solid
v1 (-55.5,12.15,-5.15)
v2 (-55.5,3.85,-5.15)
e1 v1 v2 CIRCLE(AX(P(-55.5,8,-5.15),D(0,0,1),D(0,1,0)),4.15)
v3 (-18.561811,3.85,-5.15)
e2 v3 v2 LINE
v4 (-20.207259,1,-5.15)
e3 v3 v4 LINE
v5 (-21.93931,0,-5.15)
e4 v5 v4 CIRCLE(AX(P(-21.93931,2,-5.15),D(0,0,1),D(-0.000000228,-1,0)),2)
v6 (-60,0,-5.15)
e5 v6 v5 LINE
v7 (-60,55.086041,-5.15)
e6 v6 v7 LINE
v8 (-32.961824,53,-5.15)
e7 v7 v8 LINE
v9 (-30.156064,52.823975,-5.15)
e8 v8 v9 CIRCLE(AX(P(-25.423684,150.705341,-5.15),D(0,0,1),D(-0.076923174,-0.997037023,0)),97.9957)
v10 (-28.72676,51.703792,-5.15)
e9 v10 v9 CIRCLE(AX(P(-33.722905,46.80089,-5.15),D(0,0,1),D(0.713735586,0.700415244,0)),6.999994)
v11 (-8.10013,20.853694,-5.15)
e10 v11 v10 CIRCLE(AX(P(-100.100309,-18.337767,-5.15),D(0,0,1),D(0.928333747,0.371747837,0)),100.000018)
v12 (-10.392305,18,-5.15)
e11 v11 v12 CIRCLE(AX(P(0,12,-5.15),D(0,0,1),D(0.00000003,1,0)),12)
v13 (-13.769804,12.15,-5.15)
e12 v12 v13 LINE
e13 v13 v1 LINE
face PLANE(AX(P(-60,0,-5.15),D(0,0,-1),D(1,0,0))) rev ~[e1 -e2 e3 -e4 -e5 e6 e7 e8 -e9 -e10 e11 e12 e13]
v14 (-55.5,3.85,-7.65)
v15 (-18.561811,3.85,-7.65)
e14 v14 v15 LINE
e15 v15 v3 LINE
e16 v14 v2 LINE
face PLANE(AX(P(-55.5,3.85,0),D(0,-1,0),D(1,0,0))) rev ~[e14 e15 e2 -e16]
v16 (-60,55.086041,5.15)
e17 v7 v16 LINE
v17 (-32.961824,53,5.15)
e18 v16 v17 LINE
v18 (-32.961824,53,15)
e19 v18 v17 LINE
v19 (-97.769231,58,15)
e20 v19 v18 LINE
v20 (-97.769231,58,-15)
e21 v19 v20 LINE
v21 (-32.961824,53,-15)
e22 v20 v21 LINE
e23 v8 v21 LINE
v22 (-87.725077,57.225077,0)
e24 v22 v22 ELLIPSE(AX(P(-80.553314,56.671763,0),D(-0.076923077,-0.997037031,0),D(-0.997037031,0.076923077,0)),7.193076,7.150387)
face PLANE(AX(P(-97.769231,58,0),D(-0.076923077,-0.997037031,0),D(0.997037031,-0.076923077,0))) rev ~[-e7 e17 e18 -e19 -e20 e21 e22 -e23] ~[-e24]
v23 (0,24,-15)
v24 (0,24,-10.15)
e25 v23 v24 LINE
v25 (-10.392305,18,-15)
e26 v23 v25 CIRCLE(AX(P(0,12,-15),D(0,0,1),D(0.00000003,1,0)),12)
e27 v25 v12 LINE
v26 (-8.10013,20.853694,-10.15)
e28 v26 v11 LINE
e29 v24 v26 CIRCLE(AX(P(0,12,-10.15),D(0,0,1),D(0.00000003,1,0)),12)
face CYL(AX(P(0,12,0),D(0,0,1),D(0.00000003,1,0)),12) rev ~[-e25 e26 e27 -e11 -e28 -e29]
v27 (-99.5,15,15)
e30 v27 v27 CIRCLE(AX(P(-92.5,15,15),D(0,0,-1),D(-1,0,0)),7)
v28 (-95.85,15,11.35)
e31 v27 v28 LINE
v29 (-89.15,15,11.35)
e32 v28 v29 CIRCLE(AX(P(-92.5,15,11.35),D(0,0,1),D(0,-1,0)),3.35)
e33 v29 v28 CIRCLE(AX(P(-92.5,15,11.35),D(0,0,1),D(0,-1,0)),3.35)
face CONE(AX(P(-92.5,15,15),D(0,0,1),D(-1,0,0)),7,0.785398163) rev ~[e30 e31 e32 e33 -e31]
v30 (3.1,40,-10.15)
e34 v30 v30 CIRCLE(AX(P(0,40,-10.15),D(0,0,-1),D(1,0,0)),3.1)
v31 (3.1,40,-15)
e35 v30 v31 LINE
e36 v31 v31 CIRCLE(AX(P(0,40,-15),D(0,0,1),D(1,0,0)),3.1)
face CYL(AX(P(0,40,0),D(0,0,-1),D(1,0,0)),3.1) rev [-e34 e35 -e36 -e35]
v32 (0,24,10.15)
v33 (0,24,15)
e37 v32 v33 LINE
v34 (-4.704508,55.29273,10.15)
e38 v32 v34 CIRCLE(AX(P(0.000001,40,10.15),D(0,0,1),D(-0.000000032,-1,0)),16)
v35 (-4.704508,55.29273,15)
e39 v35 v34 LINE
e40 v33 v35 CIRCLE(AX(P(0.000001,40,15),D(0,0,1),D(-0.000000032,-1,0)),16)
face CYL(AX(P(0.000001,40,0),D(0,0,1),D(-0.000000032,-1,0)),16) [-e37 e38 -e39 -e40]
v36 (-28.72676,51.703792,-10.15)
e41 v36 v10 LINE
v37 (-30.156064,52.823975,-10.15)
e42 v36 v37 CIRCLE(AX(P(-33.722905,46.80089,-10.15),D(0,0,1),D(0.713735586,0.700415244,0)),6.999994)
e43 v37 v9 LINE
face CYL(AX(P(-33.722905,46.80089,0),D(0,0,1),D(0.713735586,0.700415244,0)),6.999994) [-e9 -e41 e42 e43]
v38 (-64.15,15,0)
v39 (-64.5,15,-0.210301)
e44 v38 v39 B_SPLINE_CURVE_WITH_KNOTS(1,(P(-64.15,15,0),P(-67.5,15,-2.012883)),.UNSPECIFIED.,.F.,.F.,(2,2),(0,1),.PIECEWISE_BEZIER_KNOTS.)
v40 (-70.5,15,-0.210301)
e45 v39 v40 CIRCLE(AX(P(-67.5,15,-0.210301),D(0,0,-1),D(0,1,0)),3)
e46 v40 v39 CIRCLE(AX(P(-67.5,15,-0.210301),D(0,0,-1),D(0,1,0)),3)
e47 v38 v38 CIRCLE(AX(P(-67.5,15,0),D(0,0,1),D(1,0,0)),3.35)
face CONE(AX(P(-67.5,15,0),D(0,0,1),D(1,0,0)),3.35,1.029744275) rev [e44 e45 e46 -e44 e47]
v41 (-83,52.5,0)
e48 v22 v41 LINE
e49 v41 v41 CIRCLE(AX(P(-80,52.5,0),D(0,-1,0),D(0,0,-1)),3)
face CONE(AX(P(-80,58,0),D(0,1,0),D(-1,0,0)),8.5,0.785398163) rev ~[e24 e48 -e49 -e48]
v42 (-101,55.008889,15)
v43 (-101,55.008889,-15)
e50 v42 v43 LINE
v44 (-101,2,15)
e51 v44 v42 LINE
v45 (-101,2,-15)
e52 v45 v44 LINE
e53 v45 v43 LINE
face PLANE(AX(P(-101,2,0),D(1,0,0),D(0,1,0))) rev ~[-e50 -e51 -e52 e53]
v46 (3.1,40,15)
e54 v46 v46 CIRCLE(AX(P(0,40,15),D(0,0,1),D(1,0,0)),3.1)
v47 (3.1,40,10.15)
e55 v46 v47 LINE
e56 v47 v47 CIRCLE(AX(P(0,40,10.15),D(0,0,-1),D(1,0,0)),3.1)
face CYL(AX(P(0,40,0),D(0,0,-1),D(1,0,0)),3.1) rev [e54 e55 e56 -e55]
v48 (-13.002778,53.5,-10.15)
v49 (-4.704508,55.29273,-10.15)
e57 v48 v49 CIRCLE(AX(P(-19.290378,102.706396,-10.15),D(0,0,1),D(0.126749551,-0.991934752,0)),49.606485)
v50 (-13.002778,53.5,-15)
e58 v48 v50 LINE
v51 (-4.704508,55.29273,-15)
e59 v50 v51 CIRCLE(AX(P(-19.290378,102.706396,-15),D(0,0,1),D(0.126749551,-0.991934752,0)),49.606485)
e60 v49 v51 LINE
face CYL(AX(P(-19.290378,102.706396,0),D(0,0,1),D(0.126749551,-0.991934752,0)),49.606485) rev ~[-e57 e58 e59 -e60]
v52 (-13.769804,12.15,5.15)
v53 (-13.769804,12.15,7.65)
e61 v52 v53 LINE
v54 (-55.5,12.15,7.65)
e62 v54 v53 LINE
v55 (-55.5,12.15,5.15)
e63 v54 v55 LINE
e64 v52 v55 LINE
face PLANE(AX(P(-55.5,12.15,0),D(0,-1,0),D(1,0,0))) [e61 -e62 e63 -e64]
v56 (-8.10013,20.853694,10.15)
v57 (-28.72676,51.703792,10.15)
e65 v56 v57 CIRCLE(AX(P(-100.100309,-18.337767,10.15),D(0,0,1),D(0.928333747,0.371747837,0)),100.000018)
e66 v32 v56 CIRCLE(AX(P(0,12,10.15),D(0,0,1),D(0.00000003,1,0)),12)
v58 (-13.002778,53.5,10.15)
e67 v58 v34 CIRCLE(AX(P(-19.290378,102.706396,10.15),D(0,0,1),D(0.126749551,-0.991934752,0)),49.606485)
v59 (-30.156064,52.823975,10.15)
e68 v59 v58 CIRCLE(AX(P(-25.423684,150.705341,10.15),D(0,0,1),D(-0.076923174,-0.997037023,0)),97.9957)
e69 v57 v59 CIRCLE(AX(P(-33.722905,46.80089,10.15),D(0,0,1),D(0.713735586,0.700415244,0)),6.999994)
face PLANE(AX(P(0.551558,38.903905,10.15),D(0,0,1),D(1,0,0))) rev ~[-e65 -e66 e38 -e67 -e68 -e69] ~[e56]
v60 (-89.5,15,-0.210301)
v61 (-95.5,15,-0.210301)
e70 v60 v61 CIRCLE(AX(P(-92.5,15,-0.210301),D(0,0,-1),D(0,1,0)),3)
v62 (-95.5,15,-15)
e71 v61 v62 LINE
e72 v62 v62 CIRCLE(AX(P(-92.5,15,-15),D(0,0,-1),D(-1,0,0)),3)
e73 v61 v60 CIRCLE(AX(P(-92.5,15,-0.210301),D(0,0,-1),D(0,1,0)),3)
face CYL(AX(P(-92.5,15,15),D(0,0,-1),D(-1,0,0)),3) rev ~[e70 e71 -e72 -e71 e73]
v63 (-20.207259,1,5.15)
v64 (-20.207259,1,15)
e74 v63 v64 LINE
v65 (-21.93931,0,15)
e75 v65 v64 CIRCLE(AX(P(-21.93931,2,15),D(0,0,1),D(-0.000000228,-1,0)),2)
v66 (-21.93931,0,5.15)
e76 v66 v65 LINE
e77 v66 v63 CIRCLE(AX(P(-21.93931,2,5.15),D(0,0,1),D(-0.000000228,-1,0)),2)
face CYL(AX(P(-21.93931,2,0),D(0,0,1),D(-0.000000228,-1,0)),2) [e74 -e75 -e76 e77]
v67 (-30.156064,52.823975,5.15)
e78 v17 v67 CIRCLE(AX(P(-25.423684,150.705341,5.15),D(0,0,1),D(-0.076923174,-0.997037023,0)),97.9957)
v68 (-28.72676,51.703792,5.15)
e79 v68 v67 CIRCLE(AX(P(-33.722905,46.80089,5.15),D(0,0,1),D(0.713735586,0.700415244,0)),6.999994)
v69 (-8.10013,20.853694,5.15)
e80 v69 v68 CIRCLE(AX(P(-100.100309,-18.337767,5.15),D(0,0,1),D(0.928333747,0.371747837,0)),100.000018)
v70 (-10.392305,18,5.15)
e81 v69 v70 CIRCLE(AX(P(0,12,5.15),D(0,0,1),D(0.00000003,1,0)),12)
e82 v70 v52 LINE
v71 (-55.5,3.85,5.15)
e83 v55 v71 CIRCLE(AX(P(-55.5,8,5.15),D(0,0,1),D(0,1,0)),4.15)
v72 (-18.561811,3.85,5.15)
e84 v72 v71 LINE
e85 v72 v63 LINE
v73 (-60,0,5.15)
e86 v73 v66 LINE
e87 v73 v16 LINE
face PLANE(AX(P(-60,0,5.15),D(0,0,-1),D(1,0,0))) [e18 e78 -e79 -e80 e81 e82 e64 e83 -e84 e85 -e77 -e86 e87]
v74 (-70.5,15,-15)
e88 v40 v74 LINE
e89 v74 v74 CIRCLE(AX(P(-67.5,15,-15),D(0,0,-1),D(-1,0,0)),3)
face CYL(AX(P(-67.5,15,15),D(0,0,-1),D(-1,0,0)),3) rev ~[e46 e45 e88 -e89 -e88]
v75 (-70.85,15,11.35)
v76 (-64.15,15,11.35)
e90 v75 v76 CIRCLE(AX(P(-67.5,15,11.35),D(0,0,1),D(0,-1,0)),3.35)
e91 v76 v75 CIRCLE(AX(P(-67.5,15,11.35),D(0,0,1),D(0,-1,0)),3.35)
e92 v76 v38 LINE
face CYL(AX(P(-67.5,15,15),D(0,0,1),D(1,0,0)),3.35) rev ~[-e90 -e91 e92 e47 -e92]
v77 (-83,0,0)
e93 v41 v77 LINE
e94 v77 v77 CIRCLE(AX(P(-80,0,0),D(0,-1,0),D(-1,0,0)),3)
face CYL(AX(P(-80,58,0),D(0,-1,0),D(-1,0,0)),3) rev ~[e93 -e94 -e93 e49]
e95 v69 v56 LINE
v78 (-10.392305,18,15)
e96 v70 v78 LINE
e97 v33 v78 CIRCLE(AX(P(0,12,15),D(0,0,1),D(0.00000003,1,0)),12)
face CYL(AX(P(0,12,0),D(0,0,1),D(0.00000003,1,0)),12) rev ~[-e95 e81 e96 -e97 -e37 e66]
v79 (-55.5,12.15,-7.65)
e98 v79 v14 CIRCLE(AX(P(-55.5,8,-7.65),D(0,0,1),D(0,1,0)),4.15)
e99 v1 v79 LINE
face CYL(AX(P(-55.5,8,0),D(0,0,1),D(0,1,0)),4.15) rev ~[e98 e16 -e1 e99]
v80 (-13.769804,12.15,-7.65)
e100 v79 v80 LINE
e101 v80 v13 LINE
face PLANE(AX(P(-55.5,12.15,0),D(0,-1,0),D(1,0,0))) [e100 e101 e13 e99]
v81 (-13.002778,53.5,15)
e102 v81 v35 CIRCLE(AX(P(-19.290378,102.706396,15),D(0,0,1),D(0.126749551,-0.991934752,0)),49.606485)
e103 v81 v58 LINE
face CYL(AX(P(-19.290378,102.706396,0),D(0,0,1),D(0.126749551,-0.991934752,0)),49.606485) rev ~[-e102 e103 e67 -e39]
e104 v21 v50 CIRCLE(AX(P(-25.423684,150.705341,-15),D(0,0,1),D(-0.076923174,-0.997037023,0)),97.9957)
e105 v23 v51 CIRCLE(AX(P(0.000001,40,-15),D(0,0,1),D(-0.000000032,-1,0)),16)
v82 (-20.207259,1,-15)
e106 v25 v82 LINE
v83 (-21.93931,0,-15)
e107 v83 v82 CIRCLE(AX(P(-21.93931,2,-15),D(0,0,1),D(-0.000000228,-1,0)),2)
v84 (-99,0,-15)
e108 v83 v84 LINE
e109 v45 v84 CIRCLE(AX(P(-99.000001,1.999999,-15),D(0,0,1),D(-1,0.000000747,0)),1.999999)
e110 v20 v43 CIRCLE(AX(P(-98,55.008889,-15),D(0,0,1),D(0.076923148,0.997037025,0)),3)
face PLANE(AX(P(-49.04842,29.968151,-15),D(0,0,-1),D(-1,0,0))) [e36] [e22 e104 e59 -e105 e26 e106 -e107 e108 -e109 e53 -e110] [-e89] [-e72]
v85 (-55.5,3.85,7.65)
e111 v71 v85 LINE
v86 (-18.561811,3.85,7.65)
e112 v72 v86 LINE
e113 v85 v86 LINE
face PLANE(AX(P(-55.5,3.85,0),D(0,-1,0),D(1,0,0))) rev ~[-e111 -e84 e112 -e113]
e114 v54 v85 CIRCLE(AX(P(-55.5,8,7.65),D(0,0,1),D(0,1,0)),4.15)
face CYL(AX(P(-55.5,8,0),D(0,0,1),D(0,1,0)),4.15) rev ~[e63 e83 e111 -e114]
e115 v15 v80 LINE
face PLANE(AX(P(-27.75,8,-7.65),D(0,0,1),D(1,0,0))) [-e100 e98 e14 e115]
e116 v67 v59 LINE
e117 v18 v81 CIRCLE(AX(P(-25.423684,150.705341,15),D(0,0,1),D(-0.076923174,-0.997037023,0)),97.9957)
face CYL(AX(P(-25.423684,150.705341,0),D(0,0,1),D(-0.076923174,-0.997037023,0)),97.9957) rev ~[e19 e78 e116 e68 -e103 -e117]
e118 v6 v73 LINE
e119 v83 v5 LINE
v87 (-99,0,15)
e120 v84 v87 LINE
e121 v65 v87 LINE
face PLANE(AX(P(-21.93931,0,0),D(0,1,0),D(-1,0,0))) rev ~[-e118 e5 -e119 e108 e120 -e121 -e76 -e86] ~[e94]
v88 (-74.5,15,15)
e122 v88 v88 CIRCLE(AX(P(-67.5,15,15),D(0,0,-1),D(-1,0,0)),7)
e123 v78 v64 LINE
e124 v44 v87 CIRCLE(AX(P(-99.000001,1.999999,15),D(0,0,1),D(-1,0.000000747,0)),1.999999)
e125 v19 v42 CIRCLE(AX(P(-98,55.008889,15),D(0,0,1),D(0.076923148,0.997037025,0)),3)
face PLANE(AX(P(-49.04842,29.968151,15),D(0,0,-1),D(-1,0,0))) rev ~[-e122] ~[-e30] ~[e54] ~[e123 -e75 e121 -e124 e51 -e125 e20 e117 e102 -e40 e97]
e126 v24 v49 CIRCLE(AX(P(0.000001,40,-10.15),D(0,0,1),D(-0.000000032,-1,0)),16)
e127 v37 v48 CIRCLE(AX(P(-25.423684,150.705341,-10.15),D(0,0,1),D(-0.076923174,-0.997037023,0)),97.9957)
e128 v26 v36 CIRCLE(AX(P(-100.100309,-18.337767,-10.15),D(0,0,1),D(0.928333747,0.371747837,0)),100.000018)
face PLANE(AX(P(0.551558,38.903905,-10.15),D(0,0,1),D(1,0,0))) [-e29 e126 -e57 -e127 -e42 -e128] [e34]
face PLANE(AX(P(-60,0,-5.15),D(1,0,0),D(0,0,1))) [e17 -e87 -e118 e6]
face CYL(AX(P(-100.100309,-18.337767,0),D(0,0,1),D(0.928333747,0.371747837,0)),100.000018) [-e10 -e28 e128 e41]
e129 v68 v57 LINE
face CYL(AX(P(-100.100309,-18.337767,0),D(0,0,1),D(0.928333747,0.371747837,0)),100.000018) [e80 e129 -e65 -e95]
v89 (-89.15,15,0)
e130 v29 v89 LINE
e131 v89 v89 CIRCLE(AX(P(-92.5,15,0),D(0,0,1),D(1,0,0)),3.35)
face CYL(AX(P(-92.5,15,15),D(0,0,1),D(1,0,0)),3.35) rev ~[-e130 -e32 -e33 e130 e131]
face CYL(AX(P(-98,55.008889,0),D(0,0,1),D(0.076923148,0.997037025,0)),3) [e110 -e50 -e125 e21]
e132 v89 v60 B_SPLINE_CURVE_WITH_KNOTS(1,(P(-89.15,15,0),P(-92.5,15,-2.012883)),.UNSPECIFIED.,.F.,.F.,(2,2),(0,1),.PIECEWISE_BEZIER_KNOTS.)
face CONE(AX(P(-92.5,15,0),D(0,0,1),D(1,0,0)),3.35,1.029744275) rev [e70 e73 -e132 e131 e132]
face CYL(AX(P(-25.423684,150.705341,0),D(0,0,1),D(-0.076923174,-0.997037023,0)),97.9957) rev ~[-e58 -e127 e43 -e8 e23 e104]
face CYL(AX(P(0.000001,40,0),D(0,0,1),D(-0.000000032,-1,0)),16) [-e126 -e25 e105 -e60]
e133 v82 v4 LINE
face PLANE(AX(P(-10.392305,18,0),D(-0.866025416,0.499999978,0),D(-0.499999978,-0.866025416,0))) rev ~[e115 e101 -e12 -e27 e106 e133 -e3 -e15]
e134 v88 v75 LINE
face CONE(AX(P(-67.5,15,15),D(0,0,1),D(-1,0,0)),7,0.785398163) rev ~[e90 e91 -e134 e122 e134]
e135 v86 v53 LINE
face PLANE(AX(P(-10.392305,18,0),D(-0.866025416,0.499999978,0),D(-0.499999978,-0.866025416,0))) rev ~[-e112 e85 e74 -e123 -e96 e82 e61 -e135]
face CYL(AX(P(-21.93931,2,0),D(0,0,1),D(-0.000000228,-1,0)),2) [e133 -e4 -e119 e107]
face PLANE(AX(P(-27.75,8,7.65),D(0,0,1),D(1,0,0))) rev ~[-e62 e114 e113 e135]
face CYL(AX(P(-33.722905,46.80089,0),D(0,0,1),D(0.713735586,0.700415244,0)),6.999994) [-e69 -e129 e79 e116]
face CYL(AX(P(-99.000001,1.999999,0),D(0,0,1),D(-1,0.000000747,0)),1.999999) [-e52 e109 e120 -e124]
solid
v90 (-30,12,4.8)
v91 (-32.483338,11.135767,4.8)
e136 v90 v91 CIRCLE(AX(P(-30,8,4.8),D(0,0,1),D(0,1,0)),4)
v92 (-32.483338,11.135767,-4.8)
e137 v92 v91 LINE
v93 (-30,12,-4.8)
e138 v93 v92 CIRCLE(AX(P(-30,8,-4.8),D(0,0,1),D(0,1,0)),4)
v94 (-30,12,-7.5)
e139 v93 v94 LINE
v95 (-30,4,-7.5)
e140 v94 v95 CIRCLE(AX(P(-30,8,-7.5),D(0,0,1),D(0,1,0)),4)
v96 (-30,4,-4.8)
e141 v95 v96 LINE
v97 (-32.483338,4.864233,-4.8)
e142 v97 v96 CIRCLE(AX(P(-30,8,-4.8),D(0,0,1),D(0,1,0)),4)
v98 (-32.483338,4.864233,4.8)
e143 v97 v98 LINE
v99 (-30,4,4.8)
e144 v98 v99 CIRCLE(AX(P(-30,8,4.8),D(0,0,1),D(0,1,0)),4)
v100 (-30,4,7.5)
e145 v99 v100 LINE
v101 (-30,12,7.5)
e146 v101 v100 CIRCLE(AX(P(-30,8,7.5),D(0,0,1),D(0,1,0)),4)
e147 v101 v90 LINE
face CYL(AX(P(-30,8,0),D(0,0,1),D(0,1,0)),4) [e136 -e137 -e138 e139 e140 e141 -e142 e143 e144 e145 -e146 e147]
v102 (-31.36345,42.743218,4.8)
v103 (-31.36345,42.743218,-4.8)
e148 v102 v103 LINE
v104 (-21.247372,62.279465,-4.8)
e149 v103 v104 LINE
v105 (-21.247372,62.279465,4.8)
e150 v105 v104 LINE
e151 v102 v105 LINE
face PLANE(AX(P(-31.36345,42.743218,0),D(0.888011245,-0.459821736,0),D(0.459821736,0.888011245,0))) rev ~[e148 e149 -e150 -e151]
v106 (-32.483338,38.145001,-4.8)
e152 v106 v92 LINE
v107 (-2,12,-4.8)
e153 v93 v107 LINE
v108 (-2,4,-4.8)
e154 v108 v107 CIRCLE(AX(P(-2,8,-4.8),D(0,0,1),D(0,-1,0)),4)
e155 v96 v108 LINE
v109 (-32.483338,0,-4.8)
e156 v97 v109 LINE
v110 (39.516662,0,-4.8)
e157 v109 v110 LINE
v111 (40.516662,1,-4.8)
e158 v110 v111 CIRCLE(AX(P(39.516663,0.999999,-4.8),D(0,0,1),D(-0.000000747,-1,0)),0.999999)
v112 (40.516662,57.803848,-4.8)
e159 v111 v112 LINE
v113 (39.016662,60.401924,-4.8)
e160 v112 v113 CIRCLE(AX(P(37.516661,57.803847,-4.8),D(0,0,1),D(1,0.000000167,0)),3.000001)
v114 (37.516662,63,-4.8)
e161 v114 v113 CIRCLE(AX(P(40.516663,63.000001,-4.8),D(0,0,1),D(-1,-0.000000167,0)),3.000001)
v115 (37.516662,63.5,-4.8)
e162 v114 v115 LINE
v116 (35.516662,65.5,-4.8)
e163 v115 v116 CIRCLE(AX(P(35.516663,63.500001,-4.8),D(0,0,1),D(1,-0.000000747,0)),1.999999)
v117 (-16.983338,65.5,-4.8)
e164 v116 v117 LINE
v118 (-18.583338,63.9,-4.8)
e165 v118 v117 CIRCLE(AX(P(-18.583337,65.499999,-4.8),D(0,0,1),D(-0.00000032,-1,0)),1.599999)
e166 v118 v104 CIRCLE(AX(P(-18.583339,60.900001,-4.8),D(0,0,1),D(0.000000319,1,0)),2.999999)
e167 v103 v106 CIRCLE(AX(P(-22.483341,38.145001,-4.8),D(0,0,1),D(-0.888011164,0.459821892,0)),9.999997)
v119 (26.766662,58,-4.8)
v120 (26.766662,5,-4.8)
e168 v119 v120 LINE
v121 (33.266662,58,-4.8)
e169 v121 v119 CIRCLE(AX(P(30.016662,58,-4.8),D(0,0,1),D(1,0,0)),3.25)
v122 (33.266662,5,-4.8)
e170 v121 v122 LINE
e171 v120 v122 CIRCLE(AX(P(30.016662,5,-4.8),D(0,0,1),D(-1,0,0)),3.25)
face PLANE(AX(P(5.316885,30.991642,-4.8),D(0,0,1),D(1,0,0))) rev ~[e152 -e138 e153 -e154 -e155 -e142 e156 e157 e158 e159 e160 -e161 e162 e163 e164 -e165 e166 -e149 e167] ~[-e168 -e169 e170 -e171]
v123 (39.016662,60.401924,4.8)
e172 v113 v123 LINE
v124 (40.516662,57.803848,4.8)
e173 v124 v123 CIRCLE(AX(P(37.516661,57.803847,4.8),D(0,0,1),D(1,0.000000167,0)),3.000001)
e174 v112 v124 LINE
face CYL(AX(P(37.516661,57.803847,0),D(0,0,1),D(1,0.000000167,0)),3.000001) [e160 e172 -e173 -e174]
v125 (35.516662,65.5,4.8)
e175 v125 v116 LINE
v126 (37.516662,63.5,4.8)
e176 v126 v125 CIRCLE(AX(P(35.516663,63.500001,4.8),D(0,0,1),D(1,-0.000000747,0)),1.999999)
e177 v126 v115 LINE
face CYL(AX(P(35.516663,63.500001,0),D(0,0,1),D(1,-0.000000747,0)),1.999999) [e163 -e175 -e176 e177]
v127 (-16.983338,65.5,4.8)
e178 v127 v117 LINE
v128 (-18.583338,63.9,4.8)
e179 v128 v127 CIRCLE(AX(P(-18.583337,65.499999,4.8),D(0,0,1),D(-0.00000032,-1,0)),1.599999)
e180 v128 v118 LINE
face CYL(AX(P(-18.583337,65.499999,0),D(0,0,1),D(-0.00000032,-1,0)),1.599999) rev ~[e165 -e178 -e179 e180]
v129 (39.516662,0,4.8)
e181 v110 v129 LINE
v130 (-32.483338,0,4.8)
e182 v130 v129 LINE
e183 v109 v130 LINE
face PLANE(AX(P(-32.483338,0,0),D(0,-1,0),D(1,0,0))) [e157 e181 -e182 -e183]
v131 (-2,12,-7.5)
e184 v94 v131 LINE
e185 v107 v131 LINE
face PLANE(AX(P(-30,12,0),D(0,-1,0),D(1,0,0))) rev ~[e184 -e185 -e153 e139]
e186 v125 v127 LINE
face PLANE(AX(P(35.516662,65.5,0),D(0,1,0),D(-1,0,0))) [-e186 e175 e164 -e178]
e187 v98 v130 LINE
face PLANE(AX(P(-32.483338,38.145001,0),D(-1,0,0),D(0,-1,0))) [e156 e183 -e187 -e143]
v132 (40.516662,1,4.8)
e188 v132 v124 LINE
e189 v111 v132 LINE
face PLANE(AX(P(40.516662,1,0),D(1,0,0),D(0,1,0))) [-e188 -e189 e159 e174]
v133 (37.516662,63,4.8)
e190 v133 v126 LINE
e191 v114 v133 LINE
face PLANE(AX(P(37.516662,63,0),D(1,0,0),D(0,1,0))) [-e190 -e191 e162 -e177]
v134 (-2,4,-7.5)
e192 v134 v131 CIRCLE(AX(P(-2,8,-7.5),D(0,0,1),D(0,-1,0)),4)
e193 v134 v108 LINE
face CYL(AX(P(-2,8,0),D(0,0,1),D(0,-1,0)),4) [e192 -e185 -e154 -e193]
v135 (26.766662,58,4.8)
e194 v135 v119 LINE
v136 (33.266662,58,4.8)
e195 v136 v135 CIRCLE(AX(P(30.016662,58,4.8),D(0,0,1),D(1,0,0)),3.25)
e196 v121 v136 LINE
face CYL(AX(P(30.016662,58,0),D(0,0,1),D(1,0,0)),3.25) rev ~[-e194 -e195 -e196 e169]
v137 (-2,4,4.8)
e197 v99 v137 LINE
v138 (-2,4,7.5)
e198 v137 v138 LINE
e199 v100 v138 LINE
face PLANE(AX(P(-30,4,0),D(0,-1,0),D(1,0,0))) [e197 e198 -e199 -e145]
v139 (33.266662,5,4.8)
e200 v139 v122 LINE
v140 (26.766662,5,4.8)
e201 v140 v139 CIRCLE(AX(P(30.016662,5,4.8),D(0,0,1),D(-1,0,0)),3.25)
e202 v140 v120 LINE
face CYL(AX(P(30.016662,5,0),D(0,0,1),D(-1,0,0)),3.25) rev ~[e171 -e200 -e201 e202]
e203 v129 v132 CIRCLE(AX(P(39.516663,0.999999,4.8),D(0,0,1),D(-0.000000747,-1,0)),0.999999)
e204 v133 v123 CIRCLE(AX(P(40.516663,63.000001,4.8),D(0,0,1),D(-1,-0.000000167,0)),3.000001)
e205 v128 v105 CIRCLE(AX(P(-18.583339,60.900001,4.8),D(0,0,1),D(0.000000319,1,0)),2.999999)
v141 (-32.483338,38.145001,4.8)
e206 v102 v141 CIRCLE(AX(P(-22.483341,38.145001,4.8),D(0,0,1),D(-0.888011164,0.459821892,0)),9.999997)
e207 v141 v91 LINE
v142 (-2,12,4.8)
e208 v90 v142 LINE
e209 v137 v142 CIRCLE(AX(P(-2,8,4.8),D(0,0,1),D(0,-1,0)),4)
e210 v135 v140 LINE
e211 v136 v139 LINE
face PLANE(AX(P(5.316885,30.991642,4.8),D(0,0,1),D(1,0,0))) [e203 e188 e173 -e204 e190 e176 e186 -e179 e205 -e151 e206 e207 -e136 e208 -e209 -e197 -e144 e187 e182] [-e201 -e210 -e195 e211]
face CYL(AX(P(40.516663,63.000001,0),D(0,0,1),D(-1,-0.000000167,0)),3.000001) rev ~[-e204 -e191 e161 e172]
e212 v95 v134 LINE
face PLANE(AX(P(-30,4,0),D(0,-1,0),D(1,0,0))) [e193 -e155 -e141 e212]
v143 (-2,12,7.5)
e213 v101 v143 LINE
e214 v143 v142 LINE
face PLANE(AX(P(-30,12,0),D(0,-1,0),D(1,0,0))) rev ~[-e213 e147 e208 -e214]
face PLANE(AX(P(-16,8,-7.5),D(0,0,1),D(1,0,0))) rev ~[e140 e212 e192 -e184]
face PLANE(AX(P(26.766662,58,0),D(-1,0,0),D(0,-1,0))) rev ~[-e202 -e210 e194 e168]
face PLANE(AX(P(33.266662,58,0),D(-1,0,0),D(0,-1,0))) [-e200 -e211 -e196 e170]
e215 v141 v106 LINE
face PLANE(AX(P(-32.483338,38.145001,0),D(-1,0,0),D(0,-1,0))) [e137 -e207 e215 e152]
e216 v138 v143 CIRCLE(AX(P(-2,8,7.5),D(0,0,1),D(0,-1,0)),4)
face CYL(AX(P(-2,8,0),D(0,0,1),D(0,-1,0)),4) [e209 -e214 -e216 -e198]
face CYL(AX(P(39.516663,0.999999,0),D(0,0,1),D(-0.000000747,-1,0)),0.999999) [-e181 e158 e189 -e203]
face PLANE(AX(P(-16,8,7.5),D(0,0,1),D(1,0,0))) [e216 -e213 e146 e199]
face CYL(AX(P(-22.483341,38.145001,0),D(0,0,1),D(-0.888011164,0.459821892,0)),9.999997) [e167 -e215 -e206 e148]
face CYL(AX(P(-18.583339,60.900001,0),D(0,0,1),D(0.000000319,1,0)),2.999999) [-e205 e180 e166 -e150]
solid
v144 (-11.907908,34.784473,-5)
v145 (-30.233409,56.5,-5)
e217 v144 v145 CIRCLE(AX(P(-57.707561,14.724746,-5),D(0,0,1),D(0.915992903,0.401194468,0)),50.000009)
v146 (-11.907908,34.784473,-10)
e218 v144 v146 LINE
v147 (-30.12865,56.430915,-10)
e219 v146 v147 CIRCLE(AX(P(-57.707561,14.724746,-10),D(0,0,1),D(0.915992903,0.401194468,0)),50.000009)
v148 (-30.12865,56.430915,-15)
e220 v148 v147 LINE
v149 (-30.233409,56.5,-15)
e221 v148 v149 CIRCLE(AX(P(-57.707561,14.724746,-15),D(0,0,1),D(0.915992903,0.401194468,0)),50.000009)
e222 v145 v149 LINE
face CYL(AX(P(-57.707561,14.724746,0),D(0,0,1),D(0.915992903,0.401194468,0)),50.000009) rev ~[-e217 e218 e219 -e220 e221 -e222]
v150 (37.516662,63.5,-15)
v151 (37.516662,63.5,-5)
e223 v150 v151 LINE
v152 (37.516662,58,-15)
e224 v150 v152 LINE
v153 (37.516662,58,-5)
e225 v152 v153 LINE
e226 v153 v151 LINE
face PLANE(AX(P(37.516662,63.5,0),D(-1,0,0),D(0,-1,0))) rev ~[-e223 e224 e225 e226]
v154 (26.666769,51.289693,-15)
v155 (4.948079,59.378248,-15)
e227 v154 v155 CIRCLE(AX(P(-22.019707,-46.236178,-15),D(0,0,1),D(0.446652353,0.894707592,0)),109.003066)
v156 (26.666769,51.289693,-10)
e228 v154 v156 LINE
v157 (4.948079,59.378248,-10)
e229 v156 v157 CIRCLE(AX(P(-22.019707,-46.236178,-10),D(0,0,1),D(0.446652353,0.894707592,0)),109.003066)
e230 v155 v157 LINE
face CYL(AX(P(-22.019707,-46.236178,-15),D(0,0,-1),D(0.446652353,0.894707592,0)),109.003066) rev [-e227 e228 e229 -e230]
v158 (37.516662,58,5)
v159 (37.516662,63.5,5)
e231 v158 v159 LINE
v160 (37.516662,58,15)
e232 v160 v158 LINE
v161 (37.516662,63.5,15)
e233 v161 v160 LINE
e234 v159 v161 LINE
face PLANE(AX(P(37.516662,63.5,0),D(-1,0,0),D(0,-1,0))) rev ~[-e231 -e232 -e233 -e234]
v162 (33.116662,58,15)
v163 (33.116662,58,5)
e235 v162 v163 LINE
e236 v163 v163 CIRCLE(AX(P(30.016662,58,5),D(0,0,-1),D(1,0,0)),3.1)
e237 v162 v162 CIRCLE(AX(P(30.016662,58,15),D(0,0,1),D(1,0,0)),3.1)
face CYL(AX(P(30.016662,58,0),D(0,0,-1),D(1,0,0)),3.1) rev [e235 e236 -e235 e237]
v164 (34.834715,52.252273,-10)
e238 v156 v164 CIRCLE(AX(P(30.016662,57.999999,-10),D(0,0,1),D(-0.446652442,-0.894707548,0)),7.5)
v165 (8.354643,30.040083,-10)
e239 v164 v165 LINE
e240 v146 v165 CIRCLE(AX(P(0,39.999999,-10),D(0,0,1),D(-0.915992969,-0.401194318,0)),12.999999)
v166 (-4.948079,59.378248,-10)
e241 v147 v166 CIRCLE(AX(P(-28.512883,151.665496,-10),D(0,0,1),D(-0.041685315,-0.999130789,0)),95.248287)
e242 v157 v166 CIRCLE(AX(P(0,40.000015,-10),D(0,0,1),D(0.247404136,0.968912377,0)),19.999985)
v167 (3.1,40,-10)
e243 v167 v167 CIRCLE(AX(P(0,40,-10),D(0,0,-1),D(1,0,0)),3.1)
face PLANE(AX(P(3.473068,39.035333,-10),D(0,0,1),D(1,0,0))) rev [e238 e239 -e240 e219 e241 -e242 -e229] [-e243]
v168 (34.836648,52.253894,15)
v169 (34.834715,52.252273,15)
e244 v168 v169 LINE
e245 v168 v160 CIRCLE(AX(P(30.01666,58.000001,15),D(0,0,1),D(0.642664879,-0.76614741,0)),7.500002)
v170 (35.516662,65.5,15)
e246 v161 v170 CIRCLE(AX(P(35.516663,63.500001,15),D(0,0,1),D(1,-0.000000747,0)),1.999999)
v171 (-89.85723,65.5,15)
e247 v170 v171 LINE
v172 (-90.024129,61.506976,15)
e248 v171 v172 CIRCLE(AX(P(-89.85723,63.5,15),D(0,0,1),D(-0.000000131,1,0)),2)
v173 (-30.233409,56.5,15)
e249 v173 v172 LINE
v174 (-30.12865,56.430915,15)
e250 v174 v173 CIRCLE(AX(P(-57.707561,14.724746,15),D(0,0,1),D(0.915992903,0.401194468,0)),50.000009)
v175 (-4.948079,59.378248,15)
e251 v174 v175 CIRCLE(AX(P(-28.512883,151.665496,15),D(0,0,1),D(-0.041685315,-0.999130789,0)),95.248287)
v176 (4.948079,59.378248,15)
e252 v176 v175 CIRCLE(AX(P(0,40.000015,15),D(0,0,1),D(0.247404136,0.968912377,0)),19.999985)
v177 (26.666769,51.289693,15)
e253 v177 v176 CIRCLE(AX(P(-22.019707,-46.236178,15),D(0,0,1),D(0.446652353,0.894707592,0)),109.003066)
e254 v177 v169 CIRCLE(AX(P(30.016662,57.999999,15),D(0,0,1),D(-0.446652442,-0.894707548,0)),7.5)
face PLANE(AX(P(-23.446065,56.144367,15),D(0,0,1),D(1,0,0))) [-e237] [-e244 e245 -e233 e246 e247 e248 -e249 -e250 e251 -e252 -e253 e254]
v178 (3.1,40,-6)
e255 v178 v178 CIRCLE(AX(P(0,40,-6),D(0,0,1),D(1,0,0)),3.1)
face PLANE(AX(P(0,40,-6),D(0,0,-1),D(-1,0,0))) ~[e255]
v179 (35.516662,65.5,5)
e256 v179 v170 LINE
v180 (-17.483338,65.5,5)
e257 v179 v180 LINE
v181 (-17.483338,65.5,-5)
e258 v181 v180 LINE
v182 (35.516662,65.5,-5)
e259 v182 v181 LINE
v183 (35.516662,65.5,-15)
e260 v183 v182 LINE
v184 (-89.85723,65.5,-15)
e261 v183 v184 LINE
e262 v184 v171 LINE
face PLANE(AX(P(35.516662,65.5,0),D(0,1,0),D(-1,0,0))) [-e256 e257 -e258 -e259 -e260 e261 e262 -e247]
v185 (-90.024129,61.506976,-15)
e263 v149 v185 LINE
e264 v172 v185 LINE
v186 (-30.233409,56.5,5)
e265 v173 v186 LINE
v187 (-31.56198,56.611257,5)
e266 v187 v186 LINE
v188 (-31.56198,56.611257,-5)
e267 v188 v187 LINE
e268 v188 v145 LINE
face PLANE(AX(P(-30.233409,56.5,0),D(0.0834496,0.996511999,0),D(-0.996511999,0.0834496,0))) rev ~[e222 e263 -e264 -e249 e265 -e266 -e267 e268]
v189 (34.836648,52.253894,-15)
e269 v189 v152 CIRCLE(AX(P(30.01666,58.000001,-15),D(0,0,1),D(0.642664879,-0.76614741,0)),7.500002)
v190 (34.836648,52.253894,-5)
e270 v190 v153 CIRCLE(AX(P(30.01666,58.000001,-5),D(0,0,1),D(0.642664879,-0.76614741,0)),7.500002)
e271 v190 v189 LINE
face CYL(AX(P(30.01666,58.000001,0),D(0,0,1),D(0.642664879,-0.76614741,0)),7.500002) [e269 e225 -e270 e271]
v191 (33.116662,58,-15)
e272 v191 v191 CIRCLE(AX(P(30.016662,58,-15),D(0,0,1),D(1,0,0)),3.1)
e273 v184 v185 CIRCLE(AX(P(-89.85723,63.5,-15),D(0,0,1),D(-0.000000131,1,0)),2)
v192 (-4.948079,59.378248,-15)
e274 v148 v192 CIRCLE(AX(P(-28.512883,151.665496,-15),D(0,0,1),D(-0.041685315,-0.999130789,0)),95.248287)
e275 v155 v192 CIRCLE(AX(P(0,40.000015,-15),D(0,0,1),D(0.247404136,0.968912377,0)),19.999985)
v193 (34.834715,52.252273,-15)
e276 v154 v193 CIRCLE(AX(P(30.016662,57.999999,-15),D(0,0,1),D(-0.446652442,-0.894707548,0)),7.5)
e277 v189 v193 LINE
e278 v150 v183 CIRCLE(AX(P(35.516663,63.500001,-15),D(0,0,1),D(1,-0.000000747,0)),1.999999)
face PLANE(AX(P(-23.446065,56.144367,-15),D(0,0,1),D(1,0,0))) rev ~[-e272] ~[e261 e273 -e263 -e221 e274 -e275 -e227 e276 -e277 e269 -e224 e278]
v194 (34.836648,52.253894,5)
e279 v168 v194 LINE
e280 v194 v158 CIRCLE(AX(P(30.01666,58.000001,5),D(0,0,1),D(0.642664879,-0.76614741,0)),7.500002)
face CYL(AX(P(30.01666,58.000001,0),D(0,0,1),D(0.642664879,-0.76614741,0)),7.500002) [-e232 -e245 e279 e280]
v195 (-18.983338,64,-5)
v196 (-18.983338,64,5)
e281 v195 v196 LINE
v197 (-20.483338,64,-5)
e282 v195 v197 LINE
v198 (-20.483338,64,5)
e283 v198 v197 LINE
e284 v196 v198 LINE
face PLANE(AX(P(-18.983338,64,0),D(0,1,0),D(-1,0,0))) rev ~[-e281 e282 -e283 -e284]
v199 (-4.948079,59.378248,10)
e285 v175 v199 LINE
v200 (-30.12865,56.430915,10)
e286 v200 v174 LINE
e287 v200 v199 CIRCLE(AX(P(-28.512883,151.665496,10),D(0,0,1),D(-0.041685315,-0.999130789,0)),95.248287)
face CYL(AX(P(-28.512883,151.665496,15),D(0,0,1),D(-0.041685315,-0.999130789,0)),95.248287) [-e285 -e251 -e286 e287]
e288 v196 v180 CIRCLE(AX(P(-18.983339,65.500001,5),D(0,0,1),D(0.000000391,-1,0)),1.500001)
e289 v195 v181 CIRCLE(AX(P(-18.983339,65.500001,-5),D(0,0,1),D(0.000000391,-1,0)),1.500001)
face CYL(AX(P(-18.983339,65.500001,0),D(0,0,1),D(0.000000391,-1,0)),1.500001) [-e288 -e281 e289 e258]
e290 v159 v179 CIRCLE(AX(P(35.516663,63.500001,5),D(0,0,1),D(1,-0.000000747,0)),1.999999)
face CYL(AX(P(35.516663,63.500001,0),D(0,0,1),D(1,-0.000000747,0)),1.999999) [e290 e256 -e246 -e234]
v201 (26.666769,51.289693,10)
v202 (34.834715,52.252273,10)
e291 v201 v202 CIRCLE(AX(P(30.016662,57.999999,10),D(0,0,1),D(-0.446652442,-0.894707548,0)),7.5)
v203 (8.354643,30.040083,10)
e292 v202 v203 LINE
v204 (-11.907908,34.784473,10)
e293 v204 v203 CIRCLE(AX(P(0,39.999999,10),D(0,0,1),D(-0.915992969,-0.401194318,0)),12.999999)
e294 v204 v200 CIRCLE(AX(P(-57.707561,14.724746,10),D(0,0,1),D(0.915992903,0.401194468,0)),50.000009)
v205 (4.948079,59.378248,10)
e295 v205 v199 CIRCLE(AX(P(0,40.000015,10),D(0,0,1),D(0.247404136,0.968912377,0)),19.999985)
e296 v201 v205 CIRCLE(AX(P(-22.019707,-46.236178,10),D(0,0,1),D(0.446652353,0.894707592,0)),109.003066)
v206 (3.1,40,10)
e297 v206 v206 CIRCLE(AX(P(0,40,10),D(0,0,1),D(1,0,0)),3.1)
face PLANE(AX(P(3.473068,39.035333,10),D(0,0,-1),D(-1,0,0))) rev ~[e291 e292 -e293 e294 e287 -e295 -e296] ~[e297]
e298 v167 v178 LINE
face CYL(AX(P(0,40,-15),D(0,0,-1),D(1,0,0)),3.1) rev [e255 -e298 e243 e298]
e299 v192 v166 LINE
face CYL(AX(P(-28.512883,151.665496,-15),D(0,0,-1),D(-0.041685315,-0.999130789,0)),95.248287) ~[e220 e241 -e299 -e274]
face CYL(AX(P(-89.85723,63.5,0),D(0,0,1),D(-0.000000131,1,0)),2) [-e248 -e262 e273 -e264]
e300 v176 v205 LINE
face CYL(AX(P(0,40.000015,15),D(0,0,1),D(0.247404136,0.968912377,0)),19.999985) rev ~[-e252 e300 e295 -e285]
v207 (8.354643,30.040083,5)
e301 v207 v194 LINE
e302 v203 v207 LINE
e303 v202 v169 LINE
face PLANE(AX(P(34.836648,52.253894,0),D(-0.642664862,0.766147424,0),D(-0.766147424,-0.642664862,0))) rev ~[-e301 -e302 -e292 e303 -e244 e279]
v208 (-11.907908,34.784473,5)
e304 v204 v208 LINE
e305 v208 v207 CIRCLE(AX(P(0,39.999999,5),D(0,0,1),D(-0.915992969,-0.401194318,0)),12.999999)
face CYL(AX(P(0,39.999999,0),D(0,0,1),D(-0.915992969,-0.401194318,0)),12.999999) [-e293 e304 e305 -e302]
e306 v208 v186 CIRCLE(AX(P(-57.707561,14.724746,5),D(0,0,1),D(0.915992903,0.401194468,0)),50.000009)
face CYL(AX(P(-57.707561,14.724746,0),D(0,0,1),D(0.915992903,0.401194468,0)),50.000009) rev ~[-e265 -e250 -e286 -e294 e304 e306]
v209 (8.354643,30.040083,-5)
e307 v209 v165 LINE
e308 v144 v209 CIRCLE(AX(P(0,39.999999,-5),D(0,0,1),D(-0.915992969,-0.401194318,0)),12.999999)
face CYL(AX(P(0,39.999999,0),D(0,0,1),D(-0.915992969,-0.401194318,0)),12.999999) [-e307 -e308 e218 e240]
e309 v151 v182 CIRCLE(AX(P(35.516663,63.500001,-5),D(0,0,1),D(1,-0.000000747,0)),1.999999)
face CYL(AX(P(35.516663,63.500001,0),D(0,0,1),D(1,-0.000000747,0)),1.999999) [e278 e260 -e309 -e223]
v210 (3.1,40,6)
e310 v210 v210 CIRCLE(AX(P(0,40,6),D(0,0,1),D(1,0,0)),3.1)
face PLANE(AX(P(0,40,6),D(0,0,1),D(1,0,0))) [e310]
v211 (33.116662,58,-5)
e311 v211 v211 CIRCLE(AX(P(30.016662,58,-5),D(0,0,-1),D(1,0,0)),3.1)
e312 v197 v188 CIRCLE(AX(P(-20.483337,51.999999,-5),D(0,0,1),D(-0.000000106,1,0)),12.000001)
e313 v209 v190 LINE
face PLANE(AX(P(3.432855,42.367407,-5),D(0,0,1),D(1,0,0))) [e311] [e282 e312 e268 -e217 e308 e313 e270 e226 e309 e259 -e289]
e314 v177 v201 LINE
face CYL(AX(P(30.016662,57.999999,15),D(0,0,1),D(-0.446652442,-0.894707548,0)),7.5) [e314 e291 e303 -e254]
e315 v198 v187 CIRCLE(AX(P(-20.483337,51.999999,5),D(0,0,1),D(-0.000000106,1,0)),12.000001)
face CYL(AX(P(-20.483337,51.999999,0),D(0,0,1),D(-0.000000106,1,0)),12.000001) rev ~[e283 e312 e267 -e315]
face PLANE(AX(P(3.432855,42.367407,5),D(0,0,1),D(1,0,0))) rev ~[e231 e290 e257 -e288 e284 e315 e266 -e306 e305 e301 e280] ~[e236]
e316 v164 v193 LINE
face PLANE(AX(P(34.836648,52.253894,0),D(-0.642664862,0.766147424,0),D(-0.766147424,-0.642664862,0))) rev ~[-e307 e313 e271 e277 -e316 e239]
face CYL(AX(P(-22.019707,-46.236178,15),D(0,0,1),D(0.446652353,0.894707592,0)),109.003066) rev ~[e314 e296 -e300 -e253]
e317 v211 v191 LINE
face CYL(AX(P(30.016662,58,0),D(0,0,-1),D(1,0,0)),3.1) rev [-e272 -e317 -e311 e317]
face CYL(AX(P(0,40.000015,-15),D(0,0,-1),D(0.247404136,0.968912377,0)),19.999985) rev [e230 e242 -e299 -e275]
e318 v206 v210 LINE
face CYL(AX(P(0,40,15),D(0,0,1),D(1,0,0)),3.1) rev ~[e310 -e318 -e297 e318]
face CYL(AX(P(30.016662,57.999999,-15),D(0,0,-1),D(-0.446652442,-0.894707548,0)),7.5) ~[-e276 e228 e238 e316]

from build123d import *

# Parameters (mm, degrees)
SKETCH001_R         = 3.1
PAD_DEPTH           = 15
POCKET_DEPTH        = 5
SKETCH004_R         = 3.1
HOLE_DEPTH          = 9
POCKET002_DEPTH     = 5
PAD001_DEPTH        = 4.8
PAD004_DEPTH        = 7.5
SKETCH005_R         = 3.1
PAD002_DEPTH        = 15
SKETCH006_W         = 110
SKETCH006_H         = 10.3
POCKET001_DEPTH     = 58.009889
POCKET003_DEPTH     = 10.15
HOLE001_D           = 6
HOLE001_CSINK_D     = 17
HOLE001_CSINK_ANGLE = 90
POCKET004_DEPTH     = 7.65
HOLE002_D           = 6
HOLE002_CSINK_D     = 14
HOLE002_CSINK_ANGLE = 90
SKETCH013_R         = 3.35
HOLE003_DEPTH       = 15
HOLE003_TIPS_R      = 3.35


with BuildPart() as lever:
    # Sketch001 → Pad (new body, symmetric)
    with BuildSketch(Plane.XY):
        with BuildLine():
            ThreePointArc((34.836648, 52.253894), (36.813716, 54.829818), (37.516662, 58))
            Line((37.516662, 63.5), (37.516662, 58))
            ThreePointArc((37.516662, 63.5), (36.930876, 64.914214), (35.516662, 65.5))
            Line((35.516662, 65.5), (-89.85723, 65.5))
            ThreePointArc((-89.85723, 65.5), (-91.855485, 63.583522), (-90.024129, 61.506976))
            Line((-30.233409, 56.5), (-90.024129, 61.506976))
            ThreePointArc((-11.907908, 34.784473), (-19.495604, 46.971408), (-30.233409, 56.5))
            ThreePointArc((-11.907908, 34.784473), (-2.963736, 27.342343), (8.354643, 30.040083))
            Line((34.836648, 52.253894), (8.354643, 30.040083))
        make_face()
        with Locations((30.016662, 58)):
            Circle(SKETCH001_R, mode=Mode.SUBTRACT)
    extrude(amount=PAD_DEPTH, both=True)

    # Sketch003 → Pocket (cut, symmetric)
    with BuildSketch(Plane.XY):
        with BuildLine():
            Line((-32.483338, 20.5), (35.516662, 20.5))
            ThreePointArc((35.516662, 20.5), (36.930876, 21.085786), (37.516662, 22.5))
            Line((37.516662, 22.5), (37.516662, 65.5))
            Line((37.516662, 65.5), (-17.483338, 65.5))
            ThreePointArc((-18.983338, 64), (-17.922678, 64.43934), (-17.483338, 65.5))
            Line((-18.983338, 64), (-20.483338, 64))
            ThreePointArc((-20.483338, 64), (-28.968619, 60.485281), (-32.483338, 52))
            Line((-32.483338, 20.5), (-32.483338, 52))
        make_face()
    extrude(amount=POCKET_DEPTH, both=True, mode=Mode.SUBTRACT)

    # Sketch004 → Hole (cut)
    with BuildSketch(Plane.XY.offset(15)):
        with Locations((0, 40)):
            Circle(SKETCH004_R)
    hole = extrude(amount=-HOLE_DEPTH, mode=Mode.SUBTRACT)

    # Sketch007 → Pocket002 (cut)
    with BuildSketch(Plane.XY.offset(15)):
        with BuildLine():
            ThreePointArc((26.666769, 51.289693), (33.961647, 51.621356), (37.516662, 58))
            Line((37.516662, 58), (37.516662, 20.5))
            Line((37.516662, 20.5), (-32.483338, 20.5))
            Line((-32.483338, 20.5), (-32.483338, 56.5))
            ThreePointArc((-32.483338, 56.5), (-18.610575, 56.933345), (-4.948079, 59.378248))
            ThreePointArc((4.948079, 59.378248), (0, 60), (-4.948079, 59.378248))
            ThreePointArc((26.666769, 51.289693), (16.023006, 55.912833), (4.948079, 59.378248))
        make_face()
    pocket002 = extrude(amount=-POCKET002_DEPTH, mode=Mode.SUBTRACT)

    # Mirrored: Hole, Pocket002 across XY
    add(hole.mirror(Plane.XY), mode=Mode.SUBTRACT)
    add(pocket002.mirror(Plane.XY), mode=Mode.SUBTRACT)


with BuildPart() as carriage:
    # Sketch002 → Pad001 (new body, symmetric)
    with BuildSketch(Plane.XY):
        with BuildLine():
            Line((-32.483338, 38.145001), (-32.483338, 0))
            Line((-32.483338, 0), (39.516662, 0))
            ThreePointArc((39.516662, 0), (40.223769, 0.292893), (40.516662, 1))
            Line((40.516662, 1), (40.516662, 57.803848))
            ThreePointArc((40.516662, 57.803848), (40.114738, 59.303848), (39.016662, 60.401924))
            ThreePointArc((37.516662, 63), (37.918586, 61.5), (39.016662, 60.401924))
            Line((37.516662, 63), (37.516662, 63.5))
            ThreePointArc((37.516662, 63.5), (36.930876, 64.914214), (35.516662, 65.5))
            Line((35.516662, 65.5), (-16.983338, 65.5))
            ThreePointArc((-18.583338, 63.9), (-17.451967, 64.368629), (-16.983338, 65.5))
            ThreePointArc((-18.583338, 63.9), (-20.142441, 63.463045), (-21.247372, 62.279465))
            Line((-31.36345, 42.743218), (-21.247372, 62.279465))
            ThreePointArc((-31.36345, 42.743218), (-32.199333, 40.511314), (-32.483338, 38.145001))
        make_face()
        with BuildLine():
            ThreePointArc((33.266662, 58), (30.016662, 61.25), (26.766662, 58))
            Line((26.766662, 58), (26.766662, 5))
            ThreePointArc((26.766662, 5), (30.016662, 1.75), (33.266662, 5))
            Line((33.266662, 58), (33.266662, 5))
        make_face(mode=Mode.SUBTRACT)
    extrude(amount=PAD001_DEPTH, both=True)

    # Sketch011 → Pad004 (join, symmetric)
    with BuildSketch(Plane.XY):
        with BuildLine():
            ThreePointArc((-30, 12), (-34, 8), (-30, 4))
            Line((-30, 4), (-2, 4))
            ThreePointArc((-2, 4), (2, 8), (-2, 12))
            Line((-30, 12), (-2, 12))
        make_face()
    extrude(amount=PAD004_DEPTH, both=True)


with BuildPart() as holder:
    # Sketch005 → Pad002 (new body, symmetric)
    with BuildSketch(Plane.XY):
        with BuildLine():
            Line((-101, 2), (-101, 55.008889))
            ThreePointArc((-97.769231, 58), (-100.038099, 57.210287), (-101, 55.008889))
            Line((-97.769231, 58), (-32.961824, 53))
            ThreePointArc((-32.961824, 53), (-22.969534, 52.740376), (-13.002778, 53.5))
            ThreePointArc((-13.002778, 53.5), (-8.815221, 54.218517), (-4.704508, 55.29273))
            ThreePointArc((0, 24), (15.822195, 42.378688), (-4.704508, 55.29273))
            ThreePointArc((0, 24), (-6, 22.392305), (-10.392305, 18))
            Line((-10.392305, 18), (-20.207259, 1))
            ThreePointArc((-21.93931, 0), (-20.93931, 0.267949), (-20.207259, 1))
            Line((-21.93931, 0), (-99, 0))
            ThreePointArc((-101, 2), (-100.414214, 0.585786), (-99, 0))
        make_face()
        with Locations((0, 40)):
            Circle(SKETCH005_R, mode=Mode.SUBTRACT)
    extrude(amount=PAD002_DEPTH, both=True)

    # Sketch006 → Pocket001 (cut, through all)
    with BuildSketch(Plane.XZ):
        with Locations((-5, 0)):
            Rectangle(SKETCH006_W, SKETCH006_H)
    extrude(amount=-POCKET001_DEPTH, mode=Mode.SUBTRACT)

    # Sketch008 → Pocket003 (cut, symmetric)
    with BuildSketch(Plane.XY):
        with BuildLine():
            ThreePointArc((13.917694, 50.438271), (5.323578, 56.562585), (-5.229392, 56.592564))
            ThreePointArc((-26.266918, 53.355891), (-15.624391, 54.169792), (-5.229392, 56.592564))
            Line((-26.266918, 53.355891), (-31.266918, 53.355891))
            ThreePointArc((-28.72676, 51.703792), (-29.906372, 52.668938), (-31.266918, 53.355891))
            ThreePointArc((-7.266918, 18.837023), (-16.36838, 36.333684), (-28.72676, 51.703792))
            Line((24.452138, 18.837023), (-7.266918, 18.837023))
            Line((24.452138, 48.837023), (24.452138, 18.837023))
            ThreePointArc((13.917694, 50.438271), (18.857476, 47.483454), (24.452138, 48.837023))
        make_face()
    extrude(amount=POCKET003_DEPTH, both=True, mode=Mode.SUBTRACT)

    # Hole001 (through all)
    with Locations(Plane(origin=(0, 58, 0), x_dir=(1, 0, 0), z_dir=(0, 1, 0))):
        with Locations((-80, 0)):
            CounterSinkHole(HOLE001_D / 2, HOLE001_CSINK_D / 2, counter_sink_angle=HOLE001_CSINK_ANGLE)

    # Sketch012 → Pocket004 (cut, symmetric)
    with BuildSketch(Plane.XY):
        with BuildLine():
            ThreePointArc((-55.5, 12.15), (-59.65, 8), (-55.5, 3.85))
            Line((-55.5, 3.85), (0, 3.85))
            ThreePointArc((0, 3.85), (4.15, 8), (0, 12.15))
            Line((-55.5, 12.15), (0, 12.15))
        make_face()
    extrude(amount=POCKET004_DEPTH, both=True, mode=Mode.SUBTRACT)

    # Hole002 (through all)
    with Locations(Plane.XY.offset(15)):
        with Locations((-92.5, 15), (-67.5, 15)):
            CounterSinkHole(HOLE002_D / 2, HOLE002_CSINK_D / 2, counter_sink_angle=HOLE002_CSINK_ANGLE)

    # Sketch013 → Hole003 (cut)
    with BuildSketch(Plane.XY.offset(15)):
        with Locations((-92.5, 15)):
            Circle(SKETCH013_R)
        with Locations((-67.5, 15)):
            Circle(SKETCH013_R)
    extrude(amount=-HOLE003_DEPTH, mode=Mode.SUBTRACT)

    # Hole003 tips → Hole003 tip 1 section 0
    with BuildSketch(Plane.XY, mode=Mode.PRIVATE) as hole003_tip_1_s0:
        with Locations((-92.5, 15)):
            Circle(HOLE003_TIPS_R)
    loft([hole003_tip_1_s0.sketch, Vertex(-92.5, 15, -2.012883)], mode=Mode.SUBTRACT)

    # Hole003 tips → Hole003 tip 2 section 0
    with BuildSketch(Plane.XY, mode=Mode.PRIVATE) as hole003_tip_2_s0:
        with Locations((-67.5, 15)):
            Circle(HOLE003_TIPS_R)
    loft([hole003_tip_2_s0.sketch, Vertex(-67.5, 15, -2.012883)], mode=Mode.SUBTRACT)


solid = Compound([lever.part, carriage.part, holder.part])
